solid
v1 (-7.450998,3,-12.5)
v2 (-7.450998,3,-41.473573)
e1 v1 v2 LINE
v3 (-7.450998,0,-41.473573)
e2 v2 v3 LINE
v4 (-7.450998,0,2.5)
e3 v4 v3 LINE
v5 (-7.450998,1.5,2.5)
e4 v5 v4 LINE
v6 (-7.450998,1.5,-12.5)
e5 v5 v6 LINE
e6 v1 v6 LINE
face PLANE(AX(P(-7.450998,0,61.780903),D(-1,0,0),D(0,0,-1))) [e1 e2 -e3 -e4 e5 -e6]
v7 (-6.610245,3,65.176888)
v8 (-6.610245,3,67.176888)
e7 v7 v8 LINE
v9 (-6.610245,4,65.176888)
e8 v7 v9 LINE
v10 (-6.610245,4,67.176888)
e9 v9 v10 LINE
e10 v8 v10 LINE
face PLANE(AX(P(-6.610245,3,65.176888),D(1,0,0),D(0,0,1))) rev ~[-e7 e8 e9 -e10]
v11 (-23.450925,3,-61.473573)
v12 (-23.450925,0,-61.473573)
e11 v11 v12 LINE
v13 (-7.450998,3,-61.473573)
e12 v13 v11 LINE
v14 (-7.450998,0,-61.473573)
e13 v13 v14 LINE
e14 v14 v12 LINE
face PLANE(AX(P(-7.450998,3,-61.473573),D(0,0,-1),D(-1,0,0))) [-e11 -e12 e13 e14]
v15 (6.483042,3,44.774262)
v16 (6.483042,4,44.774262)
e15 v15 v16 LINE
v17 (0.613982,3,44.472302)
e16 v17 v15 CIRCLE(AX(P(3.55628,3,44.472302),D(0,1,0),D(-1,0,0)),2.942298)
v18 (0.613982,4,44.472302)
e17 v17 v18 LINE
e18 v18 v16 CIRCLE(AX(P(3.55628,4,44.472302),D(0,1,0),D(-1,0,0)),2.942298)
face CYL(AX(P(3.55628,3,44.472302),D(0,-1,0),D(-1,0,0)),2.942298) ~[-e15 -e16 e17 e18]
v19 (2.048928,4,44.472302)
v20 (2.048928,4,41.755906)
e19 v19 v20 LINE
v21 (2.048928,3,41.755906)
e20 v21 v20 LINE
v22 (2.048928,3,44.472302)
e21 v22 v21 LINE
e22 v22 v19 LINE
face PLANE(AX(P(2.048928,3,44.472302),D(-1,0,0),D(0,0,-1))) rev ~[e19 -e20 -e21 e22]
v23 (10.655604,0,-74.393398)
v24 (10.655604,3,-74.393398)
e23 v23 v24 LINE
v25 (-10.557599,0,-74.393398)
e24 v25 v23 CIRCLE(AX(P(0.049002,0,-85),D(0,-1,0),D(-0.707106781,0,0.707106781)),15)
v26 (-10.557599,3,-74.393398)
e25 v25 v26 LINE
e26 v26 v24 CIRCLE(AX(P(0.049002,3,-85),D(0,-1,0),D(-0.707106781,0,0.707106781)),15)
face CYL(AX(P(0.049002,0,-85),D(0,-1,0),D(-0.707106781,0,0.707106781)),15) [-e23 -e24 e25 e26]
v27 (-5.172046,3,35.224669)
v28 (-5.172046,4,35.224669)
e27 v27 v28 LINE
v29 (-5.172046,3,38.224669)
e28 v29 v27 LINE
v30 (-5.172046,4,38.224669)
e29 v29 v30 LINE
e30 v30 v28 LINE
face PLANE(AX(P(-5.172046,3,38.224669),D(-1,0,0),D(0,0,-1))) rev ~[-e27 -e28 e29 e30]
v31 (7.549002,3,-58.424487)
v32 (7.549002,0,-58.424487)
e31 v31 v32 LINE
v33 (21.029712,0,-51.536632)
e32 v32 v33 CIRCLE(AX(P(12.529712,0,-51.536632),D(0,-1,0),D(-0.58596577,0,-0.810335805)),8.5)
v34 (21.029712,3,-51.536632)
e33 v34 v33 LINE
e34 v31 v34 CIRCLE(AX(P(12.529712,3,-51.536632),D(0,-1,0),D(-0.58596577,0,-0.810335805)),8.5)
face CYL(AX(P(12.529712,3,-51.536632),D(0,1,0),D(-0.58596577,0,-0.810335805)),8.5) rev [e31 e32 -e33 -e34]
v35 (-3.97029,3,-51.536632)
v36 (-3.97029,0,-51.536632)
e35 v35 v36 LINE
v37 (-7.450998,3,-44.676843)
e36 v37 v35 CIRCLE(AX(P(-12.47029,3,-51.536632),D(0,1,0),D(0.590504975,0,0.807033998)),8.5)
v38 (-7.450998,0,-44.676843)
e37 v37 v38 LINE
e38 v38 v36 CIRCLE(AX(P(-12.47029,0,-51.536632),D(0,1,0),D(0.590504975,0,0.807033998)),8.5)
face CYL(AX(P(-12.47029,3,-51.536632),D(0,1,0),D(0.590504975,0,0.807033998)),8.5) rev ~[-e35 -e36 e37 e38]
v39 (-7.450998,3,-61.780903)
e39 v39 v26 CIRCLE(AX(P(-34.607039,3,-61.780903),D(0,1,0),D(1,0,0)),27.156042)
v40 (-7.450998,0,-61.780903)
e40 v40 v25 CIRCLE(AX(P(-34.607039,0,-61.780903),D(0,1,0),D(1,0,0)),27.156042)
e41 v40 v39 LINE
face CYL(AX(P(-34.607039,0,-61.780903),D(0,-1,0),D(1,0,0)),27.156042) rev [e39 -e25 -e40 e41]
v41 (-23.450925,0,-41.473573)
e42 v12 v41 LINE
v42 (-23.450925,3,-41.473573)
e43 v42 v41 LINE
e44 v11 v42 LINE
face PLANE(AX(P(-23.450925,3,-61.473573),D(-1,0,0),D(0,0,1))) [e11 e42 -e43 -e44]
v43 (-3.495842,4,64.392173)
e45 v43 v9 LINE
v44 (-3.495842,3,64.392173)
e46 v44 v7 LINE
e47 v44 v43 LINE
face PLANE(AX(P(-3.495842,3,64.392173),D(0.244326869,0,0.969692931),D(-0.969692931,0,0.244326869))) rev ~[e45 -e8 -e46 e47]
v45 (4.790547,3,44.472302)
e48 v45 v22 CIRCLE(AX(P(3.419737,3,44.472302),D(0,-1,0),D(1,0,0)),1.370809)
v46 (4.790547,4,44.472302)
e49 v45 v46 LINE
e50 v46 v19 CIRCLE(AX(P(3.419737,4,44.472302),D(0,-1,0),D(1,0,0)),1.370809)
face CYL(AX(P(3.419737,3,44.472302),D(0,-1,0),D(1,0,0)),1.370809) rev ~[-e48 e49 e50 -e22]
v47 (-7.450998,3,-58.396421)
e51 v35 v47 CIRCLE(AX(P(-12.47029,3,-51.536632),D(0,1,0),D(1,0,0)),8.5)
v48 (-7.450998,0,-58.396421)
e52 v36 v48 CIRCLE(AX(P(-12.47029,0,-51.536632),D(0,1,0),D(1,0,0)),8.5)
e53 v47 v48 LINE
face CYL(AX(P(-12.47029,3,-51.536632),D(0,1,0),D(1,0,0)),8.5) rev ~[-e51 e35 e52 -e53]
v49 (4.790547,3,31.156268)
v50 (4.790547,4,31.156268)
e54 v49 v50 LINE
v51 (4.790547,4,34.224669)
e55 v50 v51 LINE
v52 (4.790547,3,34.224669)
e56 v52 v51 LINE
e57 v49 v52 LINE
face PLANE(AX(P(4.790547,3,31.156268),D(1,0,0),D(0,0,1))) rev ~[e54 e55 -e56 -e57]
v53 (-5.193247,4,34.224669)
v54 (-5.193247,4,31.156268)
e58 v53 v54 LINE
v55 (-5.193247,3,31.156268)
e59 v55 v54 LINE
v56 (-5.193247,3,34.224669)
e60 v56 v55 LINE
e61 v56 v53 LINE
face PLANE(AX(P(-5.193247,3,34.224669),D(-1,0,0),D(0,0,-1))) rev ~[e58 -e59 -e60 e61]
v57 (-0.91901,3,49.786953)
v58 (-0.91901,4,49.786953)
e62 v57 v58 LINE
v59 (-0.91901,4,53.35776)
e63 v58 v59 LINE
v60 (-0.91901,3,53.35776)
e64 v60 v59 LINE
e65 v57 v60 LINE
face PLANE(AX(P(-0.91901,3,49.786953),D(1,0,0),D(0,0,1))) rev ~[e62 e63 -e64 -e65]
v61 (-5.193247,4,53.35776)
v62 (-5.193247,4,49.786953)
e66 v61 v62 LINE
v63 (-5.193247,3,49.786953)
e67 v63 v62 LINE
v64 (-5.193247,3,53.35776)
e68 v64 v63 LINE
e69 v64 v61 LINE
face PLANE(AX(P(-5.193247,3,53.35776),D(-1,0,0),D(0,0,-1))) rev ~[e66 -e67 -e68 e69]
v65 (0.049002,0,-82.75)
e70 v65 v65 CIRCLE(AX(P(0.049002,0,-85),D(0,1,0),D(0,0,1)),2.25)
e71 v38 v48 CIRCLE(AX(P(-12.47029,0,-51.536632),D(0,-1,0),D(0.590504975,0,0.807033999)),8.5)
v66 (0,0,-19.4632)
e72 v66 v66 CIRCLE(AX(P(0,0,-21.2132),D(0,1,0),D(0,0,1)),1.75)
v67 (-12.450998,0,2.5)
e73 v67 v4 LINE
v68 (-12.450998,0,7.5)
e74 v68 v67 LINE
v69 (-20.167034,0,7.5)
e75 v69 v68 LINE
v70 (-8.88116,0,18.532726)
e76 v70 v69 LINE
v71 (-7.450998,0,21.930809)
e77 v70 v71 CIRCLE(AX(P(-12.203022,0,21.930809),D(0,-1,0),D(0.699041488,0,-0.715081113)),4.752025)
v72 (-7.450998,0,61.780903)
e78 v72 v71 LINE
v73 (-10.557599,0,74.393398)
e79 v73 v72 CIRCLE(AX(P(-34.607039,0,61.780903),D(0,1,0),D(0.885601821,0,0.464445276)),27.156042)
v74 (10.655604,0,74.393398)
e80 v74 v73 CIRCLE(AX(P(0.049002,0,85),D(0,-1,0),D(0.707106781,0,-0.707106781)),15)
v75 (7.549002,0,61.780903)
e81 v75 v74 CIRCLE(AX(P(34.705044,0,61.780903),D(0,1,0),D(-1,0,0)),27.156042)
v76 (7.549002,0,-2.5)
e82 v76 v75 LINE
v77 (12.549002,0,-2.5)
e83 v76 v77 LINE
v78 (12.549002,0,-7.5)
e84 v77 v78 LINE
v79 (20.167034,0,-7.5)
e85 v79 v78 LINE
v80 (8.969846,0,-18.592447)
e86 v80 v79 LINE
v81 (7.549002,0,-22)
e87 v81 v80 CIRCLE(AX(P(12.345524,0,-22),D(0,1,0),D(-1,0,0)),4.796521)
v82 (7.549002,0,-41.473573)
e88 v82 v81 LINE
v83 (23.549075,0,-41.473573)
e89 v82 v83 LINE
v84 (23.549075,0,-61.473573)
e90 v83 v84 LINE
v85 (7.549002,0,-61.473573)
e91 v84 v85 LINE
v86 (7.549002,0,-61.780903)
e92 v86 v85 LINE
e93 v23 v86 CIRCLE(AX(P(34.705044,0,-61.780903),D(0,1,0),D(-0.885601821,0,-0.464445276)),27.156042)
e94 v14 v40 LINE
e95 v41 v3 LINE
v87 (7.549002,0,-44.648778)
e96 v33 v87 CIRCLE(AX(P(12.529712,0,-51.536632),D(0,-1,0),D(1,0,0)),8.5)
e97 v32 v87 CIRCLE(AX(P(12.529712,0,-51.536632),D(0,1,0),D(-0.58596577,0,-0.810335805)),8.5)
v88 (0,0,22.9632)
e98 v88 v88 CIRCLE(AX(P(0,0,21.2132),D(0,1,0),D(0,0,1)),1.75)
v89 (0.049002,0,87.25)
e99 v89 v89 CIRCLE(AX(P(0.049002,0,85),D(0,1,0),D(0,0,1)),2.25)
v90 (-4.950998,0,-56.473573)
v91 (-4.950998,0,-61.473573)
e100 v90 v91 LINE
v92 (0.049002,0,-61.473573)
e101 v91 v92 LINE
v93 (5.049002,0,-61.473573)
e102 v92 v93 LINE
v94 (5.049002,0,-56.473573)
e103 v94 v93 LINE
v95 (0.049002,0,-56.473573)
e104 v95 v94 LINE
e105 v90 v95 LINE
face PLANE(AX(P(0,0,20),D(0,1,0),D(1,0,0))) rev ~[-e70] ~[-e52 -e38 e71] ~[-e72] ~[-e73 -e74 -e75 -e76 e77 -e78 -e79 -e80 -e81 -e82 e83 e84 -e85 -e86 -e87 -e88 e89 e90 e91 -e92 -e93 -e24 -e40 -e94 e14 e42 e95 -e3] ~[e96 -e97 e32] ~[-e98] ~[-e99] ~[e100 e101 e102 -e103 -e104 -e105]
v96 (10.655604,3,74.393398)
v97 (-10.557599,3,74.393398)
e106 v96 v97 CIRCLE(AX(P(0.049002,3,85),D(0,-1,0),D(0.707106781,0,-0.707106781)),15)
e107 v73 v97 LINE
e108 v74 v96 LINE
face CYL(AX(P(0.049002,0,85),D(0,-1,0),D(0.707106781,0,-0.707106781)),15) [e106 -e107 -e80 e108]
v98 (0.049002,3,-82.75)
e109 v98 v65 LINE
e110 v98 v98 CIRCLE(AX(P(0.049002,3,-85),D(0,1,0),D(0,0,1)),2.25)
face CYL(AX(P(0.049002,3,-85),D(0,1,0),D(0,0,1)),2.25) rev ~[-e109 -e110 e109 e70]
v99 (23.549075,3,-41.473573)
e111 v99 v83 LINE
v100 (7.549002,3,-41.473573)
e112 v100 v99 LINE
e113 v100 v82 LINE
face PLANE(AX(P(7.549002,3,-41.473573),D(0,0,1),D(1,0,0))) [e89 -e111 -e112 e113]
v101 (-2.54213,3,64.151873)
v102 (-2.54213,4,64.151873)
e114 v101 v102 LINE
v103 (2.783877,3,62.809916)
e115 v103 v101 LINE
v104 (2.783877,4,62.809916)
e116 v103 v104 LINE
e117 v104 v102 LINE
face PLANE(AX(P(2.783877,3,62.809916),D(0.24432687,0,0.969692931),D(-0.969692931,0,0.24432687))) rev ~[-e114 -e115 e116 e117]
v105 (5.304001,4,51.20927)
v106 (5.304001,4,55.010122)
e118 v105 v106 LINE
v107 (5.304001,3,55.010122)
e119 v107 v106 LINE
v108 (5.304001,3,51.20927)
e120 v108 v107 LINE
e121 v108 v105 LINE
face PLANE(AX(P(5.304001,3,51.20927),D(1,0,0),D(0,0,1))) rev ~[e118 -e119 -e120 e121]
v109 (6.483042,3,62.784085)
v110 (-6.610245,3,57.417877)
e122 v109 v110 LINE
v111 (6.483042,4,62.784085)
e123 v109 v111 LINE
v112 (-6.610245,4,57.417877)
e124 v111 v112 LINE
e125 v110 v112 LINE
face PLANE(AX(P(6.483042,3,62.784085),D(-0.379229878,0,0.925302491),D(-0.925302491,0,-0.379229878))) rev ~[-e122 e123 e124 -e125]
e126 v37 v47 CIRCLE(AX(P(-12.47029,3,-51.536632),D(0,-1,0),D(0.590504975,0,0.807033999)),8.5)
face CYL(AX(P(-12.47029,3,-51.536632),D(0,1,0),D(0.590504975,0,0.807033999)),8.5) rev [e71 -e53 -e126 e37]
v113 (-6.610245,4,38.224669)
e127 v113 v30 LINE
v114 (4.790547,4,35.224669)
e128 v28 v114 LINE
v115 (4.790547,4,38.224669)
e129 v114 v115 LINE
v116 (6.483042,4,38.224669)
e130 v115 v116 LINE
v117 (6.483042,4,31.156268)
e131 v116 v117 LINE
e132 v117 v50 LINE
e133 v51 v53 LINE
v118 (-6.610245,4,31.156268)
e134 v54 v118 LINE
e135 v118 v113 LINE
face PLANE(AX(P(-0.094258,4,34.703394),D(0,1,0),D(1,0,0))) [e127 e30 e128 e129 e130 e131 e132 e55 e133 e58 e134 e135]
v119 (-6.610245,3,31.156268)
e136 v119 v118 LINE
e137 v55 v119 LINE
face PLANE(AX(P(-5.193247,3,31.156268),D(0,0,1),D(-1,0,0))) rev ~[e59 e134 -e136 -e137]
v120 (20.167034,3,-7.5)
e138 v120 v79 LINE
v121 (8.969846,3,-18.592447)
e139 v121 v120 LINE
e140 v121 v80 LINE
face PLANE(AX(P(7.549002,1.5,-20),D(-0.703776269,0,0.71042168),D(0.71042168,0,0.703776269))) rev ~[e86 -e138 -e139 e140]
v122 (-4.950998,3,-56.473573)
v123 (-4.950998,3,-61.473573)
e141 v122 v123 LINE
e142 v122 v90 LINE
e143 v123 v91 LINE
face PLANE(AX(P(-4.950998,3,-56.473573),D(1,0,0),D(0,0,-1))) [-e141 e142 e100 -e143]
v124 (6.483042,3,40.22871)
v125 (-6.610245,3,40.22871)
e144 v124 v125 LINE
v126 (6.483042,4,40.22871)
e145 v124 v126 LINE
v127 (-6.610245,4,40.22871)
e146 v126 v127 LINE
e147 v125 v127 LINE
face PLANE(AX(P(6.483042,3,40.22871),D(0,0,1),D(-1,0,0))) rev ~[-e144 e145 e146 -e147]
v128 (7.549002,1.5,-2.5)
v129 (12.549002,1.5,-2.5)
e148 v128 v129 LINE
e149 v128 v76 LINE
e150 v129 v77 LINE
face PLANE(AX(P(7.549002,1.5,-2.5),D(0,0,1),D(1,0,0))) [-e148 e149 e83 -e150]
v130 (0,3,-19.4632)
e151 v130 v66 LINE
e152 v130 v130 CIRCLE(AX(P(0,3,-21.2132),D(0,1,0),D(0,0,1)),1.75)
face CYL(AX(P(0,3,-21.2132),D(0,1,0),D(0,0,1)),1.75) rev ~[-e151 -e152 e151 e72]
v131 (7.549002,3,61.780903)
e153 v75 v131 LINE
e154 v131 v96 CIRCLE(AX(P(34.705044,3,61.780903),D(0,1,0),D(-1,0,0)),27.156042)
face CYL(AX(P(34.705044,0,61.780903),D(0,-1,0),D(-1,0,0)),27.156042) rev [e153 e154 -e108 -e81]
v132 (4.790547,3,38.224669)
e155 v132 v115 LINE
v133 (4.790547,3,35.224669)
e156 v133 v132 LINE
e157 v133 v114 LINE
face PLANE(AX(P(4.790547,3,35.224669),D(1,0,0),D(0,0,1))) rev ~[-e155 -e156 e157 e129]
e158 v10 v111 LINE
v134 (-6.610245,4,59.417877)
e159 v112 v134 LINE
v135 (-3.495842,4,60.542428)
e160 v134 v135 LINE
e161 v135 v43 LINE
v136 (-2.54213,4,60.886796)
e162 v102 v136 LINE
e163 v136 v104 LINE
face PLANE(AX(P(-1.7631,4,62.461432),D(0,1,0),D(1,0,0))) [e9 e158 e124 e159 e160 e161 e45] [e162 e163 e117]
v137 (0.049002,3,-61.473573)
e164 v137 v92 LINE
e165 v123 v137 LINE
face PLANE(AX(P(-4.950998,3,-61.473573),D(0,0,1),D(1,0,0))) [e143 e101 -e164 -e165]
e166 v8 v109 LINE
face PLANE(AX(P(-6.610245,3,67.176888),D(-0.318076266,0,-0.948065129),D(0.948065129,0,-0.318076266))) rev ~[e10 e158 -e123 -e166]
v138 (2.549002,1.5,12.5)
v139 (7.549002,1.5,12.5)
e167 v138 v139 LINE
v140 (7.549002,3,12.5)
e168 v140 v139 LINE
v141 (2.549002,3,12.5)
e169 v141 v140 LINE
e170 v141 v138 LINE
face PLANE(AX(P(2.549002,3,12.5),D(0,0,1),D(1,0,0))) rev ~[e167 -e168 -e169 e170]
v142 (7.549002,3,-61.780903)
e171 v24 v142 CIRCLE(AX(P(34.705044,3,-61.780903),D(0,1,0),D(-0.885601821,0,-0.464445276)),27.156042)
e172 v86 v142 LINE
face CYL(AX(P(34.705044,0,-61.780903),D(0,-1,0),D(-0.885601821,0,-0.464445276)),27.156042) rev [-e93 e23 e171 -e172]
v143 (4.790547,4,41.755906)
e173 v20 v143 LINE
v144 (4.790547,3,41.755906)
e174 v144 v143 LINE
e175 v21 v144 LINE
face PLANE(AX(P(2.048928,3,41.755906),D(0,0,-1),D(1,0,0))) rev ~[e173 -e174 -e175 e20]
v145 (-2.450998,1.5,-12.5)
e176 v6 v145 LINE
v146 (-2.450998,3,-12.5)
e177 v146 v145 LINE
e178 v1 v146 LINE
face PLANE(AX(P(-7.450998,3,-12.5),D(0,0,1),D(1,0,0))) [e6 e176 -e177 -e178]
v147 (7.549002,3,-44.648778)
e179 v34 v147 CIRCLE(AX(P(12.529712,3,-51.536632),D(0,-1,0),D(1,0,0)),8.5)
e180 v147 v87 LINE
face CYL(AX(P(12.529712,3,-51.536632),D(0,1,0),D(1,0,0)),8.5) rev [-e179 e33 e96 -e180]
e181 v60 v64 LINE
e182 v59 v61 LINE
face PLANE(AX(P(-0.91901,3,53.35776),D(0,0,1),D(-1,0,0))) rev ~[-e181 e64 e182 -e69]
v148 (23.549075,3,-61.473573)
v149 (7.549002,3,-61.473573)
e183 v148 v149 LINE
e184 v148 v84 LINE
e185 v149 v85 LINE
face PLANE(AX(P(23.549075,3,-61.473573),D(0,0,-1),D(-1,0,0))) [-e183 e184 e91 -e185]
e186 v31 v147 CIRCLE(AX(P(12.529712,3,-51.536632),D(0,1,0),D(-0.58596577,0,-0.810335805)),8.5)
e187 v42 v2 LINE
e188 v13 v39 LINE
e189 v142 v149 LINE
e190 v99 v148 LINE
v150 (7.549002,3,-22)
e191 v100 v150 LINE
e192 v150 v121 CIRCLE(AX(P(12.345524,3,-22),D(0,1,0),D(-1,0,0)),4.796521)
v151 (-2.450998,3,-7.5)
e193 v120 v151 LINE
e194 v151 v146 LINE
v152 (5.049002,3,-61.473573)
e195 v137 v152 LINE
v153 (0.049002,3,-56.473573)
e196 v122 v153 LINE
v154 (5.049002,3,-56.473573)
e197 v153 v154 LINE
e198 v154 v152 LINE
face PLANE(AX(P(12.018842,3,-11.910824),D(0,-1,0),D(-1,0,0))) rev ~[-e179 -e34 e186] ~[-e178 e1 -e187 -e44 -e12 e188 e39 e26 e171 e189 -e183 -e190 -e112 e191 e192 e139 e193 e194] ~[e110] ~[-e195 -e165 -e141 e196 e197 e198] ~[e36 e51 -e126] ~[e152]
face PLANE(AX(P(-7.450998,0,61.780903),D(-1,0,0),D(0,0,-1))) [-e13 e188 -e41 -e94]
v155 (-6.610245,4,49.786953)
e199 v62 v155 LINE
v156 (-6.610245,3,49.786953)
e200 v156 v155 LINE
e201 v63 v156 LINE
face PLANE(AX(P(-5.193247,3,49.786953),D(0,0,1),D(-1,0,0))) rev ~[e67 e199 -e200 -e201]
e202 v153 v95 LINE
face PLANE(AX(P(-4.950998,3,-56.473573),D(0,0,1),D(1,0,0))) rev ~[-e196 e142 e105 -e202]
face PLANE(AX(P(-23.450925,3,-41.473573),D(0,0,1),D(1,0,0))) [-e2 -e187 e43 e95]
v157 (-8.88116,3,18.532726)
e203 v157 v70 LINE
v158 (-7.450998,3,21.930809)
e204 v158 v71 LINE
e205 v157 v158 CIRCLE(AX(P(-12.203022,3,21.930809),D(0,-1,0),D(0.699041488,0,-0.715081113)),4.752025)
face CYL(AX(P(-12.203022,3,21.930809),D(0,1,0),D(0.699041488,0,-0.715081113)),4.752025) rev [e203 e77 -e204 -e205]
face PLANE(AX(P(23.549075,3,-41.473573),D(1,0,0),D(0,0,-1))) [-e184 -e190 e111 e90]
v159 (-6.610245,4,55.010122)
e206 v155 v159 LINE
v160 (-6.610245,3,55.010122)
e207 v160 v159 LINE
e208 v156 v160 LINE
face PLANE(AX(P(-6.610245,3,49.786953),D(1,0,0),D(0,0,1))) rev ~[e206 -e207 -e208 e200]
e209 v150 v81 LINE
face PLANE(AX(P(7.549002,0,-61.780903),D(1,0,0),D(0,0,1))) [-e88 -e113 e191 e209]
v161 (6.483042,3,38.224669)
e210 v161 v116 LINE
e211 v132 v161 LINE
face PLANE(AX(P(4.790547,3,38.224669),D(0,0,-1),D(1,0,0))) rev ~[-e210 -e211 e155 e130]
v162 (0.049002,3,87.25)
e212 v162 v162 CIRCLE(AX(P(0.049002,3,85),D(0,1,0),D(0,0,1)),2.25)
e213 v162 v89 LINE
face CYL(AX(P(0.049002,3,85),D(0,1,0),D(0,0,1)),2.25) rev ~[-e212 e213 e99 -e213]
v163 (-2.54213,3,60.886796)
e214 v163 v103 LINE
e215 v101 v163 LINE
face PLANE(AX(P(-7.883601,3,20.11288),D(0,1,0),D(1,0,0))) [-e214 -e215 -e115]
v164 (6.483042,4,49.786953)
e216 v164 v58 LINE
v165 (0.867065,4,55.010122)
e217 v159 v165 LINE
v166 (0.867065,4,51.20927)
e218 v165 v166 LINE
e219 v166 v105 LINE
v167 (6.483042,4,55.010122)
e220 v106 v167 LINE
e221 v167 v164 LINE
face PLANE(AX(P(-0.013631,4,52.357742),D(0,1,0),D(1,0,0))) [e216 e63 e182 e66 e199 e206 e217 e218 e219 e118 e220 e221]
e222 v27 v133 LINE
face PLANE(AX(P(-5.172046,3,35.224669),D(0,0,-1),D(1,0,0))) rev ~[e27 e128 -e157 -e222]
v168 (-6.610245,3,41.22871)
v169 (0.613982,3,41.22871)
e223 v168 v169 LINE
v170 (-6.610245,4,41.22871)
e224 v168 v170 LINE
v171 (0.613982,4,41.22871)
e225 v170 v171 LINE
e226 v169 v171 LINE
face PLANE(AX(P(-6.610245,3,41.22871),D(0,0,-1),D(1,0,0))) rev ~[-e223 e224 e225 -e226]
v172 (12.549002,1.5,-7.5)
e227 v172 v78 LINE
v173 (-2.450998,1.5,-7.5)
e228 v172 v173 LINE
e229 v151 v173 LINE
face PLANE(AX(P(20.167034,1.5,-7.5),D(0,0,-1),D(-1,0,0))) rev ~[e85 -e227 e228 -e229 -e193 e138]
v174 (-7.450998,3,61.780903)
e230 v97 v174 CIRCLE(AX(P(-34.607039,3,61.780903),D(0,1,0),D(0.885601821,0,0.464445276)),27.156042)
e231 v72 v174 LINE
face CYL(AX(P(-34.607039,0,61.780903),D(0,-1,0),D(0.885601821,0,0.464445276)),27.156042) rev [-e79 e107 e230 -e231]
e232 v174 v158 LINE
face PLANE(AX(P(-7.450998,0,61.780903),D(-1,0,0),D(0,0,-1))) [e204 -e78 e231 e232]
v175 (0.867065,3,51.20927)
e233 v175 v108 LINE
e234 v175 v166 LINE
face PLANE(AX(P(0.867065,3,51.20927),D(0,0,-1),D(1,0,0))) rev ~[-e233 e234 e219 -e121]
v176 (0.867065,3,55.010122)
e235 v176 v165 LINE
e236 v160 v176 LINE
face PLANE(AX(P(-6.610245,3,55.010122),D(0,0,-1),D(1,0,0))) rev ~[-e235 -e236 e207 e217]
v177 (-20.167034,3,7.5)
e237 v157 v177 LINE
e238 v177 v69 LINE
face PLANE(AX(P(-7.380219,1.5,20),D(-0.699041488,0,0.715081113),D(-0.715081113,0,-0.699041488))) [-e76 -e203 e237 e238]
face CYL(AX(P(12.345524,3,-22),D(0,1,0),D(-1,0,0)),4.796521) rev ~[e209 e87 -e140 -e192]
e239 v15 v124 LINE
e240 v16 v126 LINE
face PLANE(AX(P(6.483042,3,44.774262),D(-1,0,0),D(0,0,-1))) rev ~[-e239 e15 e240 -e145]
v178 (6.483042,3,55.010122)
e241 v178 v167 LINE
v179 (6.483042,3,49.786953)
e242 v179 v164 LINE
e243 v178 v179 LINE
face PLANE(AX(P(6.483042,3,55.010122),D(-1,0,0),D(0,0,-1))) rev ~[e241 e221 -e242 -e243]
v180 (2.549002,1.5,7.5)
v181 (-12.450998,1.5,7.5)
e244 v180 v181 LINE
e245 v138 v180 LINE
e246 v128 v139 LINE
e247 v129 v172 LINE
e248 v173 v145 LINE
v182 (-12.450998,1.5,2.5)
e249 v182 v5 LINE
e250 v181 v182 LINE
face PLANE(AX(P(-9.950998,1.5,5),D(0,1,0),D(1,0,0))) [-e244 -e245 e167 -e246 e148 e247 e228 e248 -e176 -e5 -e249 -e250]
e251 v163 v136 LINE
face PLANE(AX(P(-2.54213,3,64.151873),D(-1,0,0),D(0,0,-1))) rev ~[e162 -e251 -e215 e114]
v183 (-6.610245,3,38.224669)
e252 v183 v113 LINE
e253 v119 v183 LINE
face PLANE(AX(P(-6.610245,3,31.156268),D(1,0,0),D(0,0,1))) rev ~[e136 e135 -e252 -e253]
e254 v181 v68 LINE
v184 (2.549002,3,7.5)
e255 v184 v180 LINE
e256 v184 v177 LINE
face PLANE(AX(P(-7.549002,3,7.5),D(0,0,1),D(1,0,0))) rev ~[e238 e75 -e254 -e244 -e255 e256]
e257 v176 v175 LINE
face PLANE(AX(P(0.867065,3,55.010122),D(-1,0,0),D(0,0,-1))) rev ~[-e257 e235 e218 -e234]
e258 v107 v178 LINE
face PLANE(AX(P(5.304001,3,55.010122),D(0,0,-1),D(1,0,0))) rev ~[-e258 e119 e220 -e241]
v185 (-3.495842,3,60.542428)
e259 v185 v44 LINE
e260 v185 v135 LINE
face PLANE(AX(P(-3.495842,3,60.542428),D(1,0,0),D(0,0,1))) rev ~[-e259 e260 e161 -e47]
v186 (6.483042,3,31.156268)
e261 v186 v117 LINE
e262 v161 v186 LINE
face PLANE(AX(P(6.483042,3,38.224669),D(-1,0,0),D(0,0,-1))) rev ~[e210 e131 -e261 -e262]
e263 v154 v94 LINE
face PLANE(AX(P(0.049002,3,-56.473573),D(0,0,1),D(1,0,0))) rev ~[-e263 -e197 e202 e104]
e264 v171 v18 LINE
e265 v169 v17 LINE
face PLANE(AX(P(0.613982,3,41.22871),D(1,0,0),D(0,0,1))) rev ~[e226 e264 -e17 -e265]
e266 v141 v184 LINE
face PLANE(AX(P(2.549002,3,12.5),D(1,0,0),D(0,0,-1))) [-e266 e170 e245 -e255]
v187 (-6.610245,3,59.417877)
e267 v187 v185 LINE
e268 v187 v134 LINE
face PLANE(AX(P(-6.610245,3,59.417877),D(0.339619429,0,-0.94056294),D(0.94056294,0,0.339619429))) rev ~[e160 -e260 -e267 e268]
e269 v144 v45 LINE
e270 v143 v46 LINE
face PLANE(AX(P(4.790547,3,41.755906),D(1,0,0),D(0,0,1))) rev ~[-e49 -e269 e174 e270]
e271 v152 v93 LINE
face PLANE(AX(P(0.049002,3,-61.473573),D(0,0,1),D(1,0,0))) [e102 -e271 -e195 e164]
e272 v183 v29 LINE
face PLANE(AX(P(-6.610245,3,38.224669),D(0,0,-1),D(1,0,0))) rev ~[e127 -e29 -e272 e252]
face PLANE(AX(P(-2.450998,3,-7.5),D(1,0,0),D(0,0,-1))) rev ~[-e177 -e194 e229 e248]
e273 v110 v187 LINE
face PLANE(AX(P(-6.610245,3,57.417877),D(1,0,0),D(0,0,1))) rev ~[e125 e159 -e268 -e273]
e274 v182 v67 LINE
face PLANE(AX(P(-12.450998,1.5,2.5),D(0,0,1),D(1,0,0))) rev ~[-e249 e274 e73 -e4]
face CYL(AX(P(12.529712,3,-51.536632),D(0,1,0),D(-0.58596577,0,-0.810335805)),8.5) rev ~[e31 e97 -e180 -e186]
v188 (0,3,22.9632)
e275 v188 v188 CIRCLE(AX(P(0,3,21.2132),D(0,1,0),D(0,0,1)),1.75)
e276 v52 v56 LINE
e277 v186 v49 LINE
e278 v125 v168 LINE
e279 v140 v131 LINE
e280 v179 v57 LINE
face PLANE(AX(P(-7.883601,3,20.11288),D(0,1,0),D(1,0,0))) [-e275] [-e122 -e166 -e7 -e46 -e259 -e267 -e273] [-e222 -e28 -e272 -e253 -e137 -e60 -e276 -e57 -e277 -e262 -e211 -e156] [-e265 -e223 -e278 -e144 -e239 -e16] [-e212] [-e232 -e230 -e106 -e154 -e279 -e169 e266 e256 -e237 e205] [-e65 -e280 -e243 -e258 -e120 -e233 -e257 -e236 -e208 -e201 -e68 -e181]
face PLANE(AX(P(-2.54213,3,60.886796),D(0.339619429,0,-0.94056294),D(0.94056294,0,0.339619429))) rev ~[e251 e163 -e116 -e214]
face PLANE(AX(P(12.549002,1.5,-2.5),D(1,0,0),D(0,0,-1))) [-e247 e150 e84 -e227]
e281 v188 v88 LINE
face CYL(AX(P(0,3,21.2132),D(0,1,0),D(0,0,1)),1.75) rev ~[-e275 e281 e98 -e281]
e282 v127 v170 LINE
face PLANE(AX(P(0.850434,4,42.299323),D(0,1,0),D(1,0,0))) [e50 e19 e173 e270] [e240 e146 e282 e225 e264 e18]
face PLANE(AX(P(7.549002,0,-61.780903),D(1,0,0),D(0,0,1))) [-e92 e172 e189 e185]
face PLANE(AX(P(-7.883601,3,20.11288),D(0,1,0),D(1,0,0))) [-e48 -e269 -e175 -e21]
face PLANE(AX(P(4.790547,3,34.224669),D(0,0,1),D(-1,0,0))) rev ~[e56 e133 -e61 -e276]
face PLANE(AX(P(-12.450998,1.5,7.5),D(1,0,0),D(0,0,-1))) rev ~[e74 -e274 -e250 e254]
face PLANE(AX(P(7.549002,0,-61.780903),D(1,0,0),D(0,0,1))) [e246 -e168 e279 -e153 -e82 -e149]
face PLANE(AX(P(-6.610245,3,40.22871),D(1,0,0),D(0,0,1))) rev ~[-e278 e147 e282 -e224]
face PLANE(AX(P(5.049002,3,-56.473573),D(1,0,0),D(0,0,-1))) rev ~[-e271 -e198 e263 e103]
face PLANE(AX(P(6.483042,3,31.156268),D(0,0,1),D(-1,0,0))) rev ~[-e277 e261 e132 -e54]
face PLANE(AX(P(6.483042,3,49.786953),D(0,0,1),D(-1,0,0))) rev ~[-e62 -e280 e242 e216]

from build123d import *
from build123d.topology import SkipClean

# Parameters (mm, degrees)
SKETCH1_R            = 2
SKETCH1_R_2          = 1.5
BOSS_EXTRUDE2_DEPTH  = 3
SKETCH3_W            = 15.09800494
SKETCH3_H            = 15
CUT_EXTRUDE9_DEPTH   = 1.5
BOSS_EXTRUDE7_DEPTH  = 1.5
BOSS_EXTRUDE9_DEPTH  = 3
SKETCH11_W           = 5
SKETCH11_H           = 5
CUT_EXTRUDE16_DEPTH  = 1.5
SKETCH12_W           = 5
SKETCH12_H           = 5
BOSS_EXTRUDE16_DEPTH = 1.5
BOSS_EXTRUDE17_START = -3
SKETCH15_R           = 1.5
BOSS_EXTRUDE17_DEPTH = 3
SKETCH16_R           = 1.5
CUT_EXTRUDE17_DEPTH  = 103.05738215
BOSS_EXTRUDE23_DEPTH = 1
BOSS_EXTRUDE27_DEPTH = 3
SKETCH27_W           = 5
SKETCH27_H           = 5
CUT_EXTRUDE20_DEPTH  = 3
SKETCH28_R           = 2.25
CUT_EXTRUDE22_DEPTH  = 103.779175528
SKETCH29_R           = 1.75
CUT_EXTRUDE23_DEPTH  = 10


with BuildPart() as part:
    # Sketch1 → Boss-Extrude2 (new body)
    with BuildSketch(Plane(origin=(0, 0, 0), x_dir=(1, 0, 0), z_dir=(0, 1, 0))):
        with BuildLine():
            Line((-7.45099753, -61.780902979), (-7.45099753, 61.780902979))
            ThreePointArc((-7.45099753, 61.780902979), (-8.239083338, 68.275631842), (-10.557599248, 74.393398282))
            ThreePointArc((-10.557599248, 74.393398282), (0.04900247, 100), (10.655604188, 74.393398282))
            ThreePointArc((10.655604188, 74.393398282), (8.337088278, 68.275631842), (7.54900247, 61.780902979))
            Line((7.54900247, 61.780902979), (7.54900247, -61.780902979))
            ThreePointArc((7.54900247, -61.780902979), (8.337088278, -68.275631842), (10.655604188, -74.393398282))
            ThreePointArc((10.655604188, -74.393398282), (0.04900247, -100), (-10.557599248, -74.393398282))
            ThreePointArc((-10.557599248, -74.393398282), (-8.239083338, -68.275631842), (-7.45099753, -61.780902979))
        make_face()
        with Locations(Location((0.04900247, 85, 0), (0, 0, 270))):
            Circle(SKETCH1_R, mode=Mode.SUBTRACT)
        with Locations(Location((0, 20, 0), (0, 0, 270))):
            Circle(SKETCH1_R_2, mode=Mode.SUBTRACT)
        with Locations(Location((0.04900247, -85, 0), (0, 0, 90))):
            Circle(SKETCH1_R, mode=Mode.SUBTRACT)
        with Locations(Location((0, -20, 0), (0, 0, 90))):
            Circle(SKETCH1_R_2, mode=Mode.SUBTRACT)
    extrude(amount=BOSS_EXTRUDE2_DEPTH)

    # Sketch3 → Cut-Extrude9 (cut)
    with BuildSketch(Plane(origin=(0, 3, 0), x_dir=(1, 0, 0), z_dir=(0, 1, 0))):
        Rectangle(SKETCH3_W, SKETCH3_H)
    extrude(amount=-CUT_EXTRUDE9_DEPTH, mode=Mode.SUBTRACT)

    # Sketch4 → Boss-Extrude7 (add, symmetric)
    with BuildSketch(Plane(origin=(0, 1.5, 0), x_dir=(1, 0, 0), z_dir=(0, 1, 0))):
        Polygon((-7.380219176, -20), (-20.167033775, -7.5), (-7.45099753, -7.5), align=None)
        Polygon((7.54900247, 20), (20.167033775, 7.5), (7.54900247, 7.5), align=None)
    extrude(amount=BOSS_EXTRUDE7_DEPTH, both=True)

    # Sketch7 → Boss-Extrude9 (add)
    with BuildSketch(Plane(origin=(0, 3, 0), x_dir=(1, 0, 0), z_dir=(0, 1, 0))):
        with BuildLine():
            Line((-7.45099753, -19.930809239), (-8.881159755, -18.532726263))
            ThreePointArc((-8.881159755, -18.532726263), (-7.823107204, -20.087420247), (-7.45099753, -21.930809239))
            Line((-7.45099753, -21.930809239), (-7.45099753, -19.930809239))
        make_face()
        with BuildLine():
            Line((7.54900247, 20), (7.54900247, 22))
            ThreePointArc((7.54900247, 22), (7.918440774, 20.154044275), (8.969845829, 18.592447462))
            Line((8.969845829, 18.592447462), (7.54900247, 20))
        make_face()
    extrude(amount=-BOSS_EXTRUDE9_DEPTH)

    # Sketch11 → Cut-Extrude16 (cut)
    with BuildSketch(Plane(origin=(0, 3, 0), x_dir=(1, 0, 0), z_dir=(0, 1, 0))):
        with Locations((-4.95099753, 10)):
            Rectangle(SKETCH11_W, SKETCH11_H)
        with Locations((5.04900247, -10)):
            Rectangle(SKETCH11_W, SKETCH11_H)
    extrude(amount=-CUT_EXTRUDE16_DEPTH, mode=Mode.SUBTRACT)

    # Sketch12 → Boss-Extrude16 (add)
    with BuildSketch(Plane(origin=(0, 1.5, 0), x_dir=(1, 0, 0), z_dir=(0, 1, 0))):
        with Locations((-9.95099753, -5)):
            Rectangle(SKETCH12_W, SKETCH12_H)
        with Locations((10.04900247, 5)):
            Rectangle(SKETCH12_W, SKETCH12_H)
    extrude(amount=-BOSS_EXTRUDE16_DEPTH)

    # Sketch15 → Boss-Extrude17 (add)
    with BuildSketch(Plane(origin=(0, 3, 0), x_dir=(1, 0, 0), z_dir=(0, 1, 0)).offset(BOSS_EXTRUDE17_START)):
        with Locations((0, -20)):
            Circle(SKETCH15_R)
        with Locations((0, 20)):
            Circle(SKETCH15_R)
    extrude(amount=BOSS_EXTRUDE17_DEPTH)

    # Sketch16 → Cut-Extrude17 (cut, through all)
    with BuildSketch(Plane(origin=(0, 3, 0), x_dir=(1, 0, 0), z_dir=(0, 1, 0))):
        with Locations(Location((0, -21.2132, 0), (0, 0, 270))):
            Circle(SKETCH16_R)
        with Locations(Location((0, 21.2132, 0), (0, 0, 270))):
            Circle(SKETCH16_R)
    extrude(amount=-CUT_EXTRUDE17_DEPTH, mode=Mode.SUBTRACT)

    # Sketch23 → Boss-Extrude23 (add)
    # profile 1 of 4: a face of its own
    with BuildSketch(Plane(origin=(0, 3, 0), x_dir=(1, 0, 0), z_dir=(0, 1, 0))):
        Polygon((6.48304168, -31.15626819), (4.790546757, -31.15626819), (4.790546757, -34.224668666), (-5.193247077, -34.224668666), (-5.193247077, -31.15626819), (-6.610245289, -31.15626819), (-6.610245289, -38.224668666), (-5.172046476, -38.224668666), (-5.172046476, -35.224668666), (4.790546757, -35.224668666), (4.790546757, -38.224668666), (6.48304168, -38.224668666), align=None)
    # profile 2 of 4: a face of its own
    with BuildSketch(Plane(origin=(0, 3, 0), x_dir=(1, 0, 0), z_dir=(0, 1, 0))):
        with BuildLine():
            Line((6.48304168, -44.774262485), (6.48304168, -40.2287097))
            Line((6.48304168, -40.2287097), (0.613982134, -40.2287097))
            Line((0.613982134, -40.2287097), (-6.610245289, -40.2287097))
            Line((-6.610245289, -40.2287097), (-6.610245289, -41.2287097))
            Line((-6.610245289, -41.2287097), (0.613982134, -41.2287097))
            Line((0.613982134, -41.2287097), (0.613982134, -44.472302349))
            ThreePointArc((0.613982134, -44.472302349), (3.405099993, -47.410713479), (6.48304168, -44.774262485))
        make_face()
        with BuildLine():
            Line((2.048928068, -41.75590566), (4.790546757, -41.75590566))
            Line((4.790546757, -41.75590566), (4.790546757, -44.472302349))
            ThreePointArc((4.790546757, -44.472302349), (3.419737413, -45.843111694), (2.048928068, -44.472302349))
            Line((2.048928068, -44.472302349), (2.048928068, -41.75590566))
        make_face(mode=Mode.SUBTRACT)
    # profile 3 of 4: a face of its own
    with BuildSketch(Plane(origin=(0, 3, 0), x_dir=(1, 0, 0), z_dir=(0, 1, 0))):
        Polygon((-5.193247077, -49.786953251), (-6.610245289, -49.786953251), (-6.610245289, -55.010121906), (0.867065228, -55.010121906), (0.867065228, -51.209269606), (5.304000993, -51.209269606), (5.304000993, -55.010121906), (6.48304168, -55.010121906), (6.48304168, -54.185588488), (6.48304168, -49.786953251), (5.304000993, -49.786953251), (3.675053454, -49.786953251), (-0.919010014, -49.786953251), (-0.919010014, -53.357760144), (-5.193247077, -53.357760144), align=None)
    # profile 4 of 4: a face of its own
    with BuildSketch(Plane(origin=(0, 3, 0), x_dir=(1, 0, 0), z_dir=(0, 1, 0))):
        Polygon((6.48304168, -62.784084555), (-6.610245289, -57.417876571), (-6.610245289, -59.417876571), (-3.495842422, -60.542428347), (-3.495842422, -64.392173355), (-6.610245289, -65.17688806), (-6.610245289, -67.17688806), align=None)
        Polygon((-2.542129921, -64.151872965), (-2.542129921, -60.886795833), (2.783876522, -62.809915692), align=None, mode=Mode.SUBTRACT)
    extrude(amount=BOSS_EXTRUDE23_DEPTH)

    # Sketch18 → Boss-Extrude27 (add)
    with BuildSketch(Plane(origin=(0, 3, 0), x_dir=(1, 0, 0), z_dir=(0, 1, 0))):
        with BuildLine():
            Line((7.54900247, 44.648778007), (7.54900247, 41.473572639))
            Line((7.54900247, 41.473572639), (22.562436554, 41.473572639))
            Line((22.562436554, 41.473572639), (23.549074765, 41.473572639))
            Line((23.549074765, 41.473572639), (23.549074765, 51.473572639))
            Line((23.549074765, 51.473572639), (23.549074765, 61.473572639))
            Line((23.549074765, 61.473572639), (22.562436554, 61.473572639))
            Line((22.562436554, 61.473572639), (7.54900247, 61.473572639))
            Line((7.54900247, 61.473572639), (7.54900247, 58.424486687))
            ThreePointArc((7.54900247, 58.424486687), (16.397137863, 59.105847196), (21.029711515, 51.536632347))
            ThreePointArc((21.029711515, 51.536632347), (16.397137863, 43.967417497), (7.54900247, 44.648778007))
        make_face()
        with BuildLine():
            Line((-22.437563446, 41.473572639), (-7.45099753, 41.473572639))
            Line((-7.45099753, 41.473572639), (-7.45099753, 44.676843358))
            ThreePointArc((-7.45099753, 44.676843358), (-20.970289814, 51.536632347), (-7.45099753, 58.396421335))
            Line((-7.45099753, 58.396421335), (-7.45099753, 61.473572639))
            Line((-7.45099753, 61.473572639), (-22.437563446, 61.473572639))
            Line((-22.437563446, 61.473572639), (-23.450925235, 61.473572639))
            Line((-23.450925235, 61.473572639), (-23.450925235, 41.473572639))
            Line((-23.450925235, 41.473572639), (-22.437563446, 41.473572639))
        make_face()
    extrude(amount=-BOSS_EXTRUDE27_DEPTH)

    # Sketch27 → Cut-Extrude20 (cut)
    with SkipClean():  # the faces are left unmerged after this step: merging them gives an invalid solid
        with BuildSketch(Plane(origin=(0, 3, 0), x_dir=(1, 0, 0), z_dir=(0, 1, 0))):
            with BuildLine():
                ThreePointArc((7.54900247, 44.648778007), (16.397137863, 43.967417497), (21.029711515, 51.536632347))
                ThreePointArc((21.029711515, 51.536632347), (16.397137863, 59.105847196), (7.54900247, 58.424486687))
                Line((7.54900247, 58.424486687), (7.54900247, 44.648778007))
            make_face()
            with BuildLine():
                Line((7.54900247, 44.648778007), (7.54900247, 58.424486687))
                ThreePointArc((7.54900247, 58.424486687), (4.029711515, 51.536632347), (7.54900247, 44.648778007))
            make_face()
            with BuildLine():
                ThreePointArc((-7.45099753, 44.676843358), (-4.890250751, 47.690464411), (-3.970289814, 51.536632347))
                ThreePointArc((-3.970289814, 51.536632347), (-4.890250751, 55.382800283), (-7.45099753, 58.396421335))
                Line((-7.45099753, 58.396421335), (-7.45099753, 44.676843358))
            make_face()
            with BuildLine():
                Line((-7.45099753, 44.676843358), (-7.45099753, 58.396421335))
                ThreePointArc((-7.45099753, 58.396421335), (-20.970289814, 51.536632347), (-7.45099753, 44.676843358))
            make_face()
            with Locations((2.54900247, 58.973572639)):
                Rectangle(SKETCH27_W, SKETCH27_H)
            with Locations((-2.45099753, 58.973572639)):
                Rectangle(SKETCH27_W, SKETCH27_H)
        extrude(amount=-CUT_EXTRUDE20_DEPTH, mode=Mode.SUBTRACT)

    # Sketch28 → Cut-Extrude22 (cut, through all)
    with SkipClean():  # the faces are left unmerged after this step: merging them gives an invalid solid
        with BuildSketch(Plane(origin=(0, 3, 0), x_dir=(1, 0, 0), z_dir=(0, 1, 0))):
            with Locations(Location((0.04900247, 85, 0), (0, 0, 270))):
                Circle(SKETCH28_R)
            with Locations(Location((0.04900247, -85, 0), (0, 0, 270))):
                Circle(SKETCH28_R)
        extrude(amount=-CUT_EXTRUDE22_DEPTH, mode=Mode.SUBTRACT)

    # Sketch29 → Cut-Extrude23 (cut)
    with SkipClean():  # the faces are left unmerged after this step: merging them gives an invalid solid
        with BuildSketch(Plane(origin=(0, 3, 0), x_dir=(1, 0, 0), z_dir=(0, 1, 0))):
            with Locations(Location((0, 21.2132, 0), (0, 0, 270))):
                Circle(SKETCH29_R)
            with Locations(Location((0, -21.2132, 0), (0, 0, 270))):
                Circle(SKETCH29_R)
        extrude(amount=-CUT_EXTRUDE23_DEPTH, mode=Mode.SUBTRACT)


solid = part.part
